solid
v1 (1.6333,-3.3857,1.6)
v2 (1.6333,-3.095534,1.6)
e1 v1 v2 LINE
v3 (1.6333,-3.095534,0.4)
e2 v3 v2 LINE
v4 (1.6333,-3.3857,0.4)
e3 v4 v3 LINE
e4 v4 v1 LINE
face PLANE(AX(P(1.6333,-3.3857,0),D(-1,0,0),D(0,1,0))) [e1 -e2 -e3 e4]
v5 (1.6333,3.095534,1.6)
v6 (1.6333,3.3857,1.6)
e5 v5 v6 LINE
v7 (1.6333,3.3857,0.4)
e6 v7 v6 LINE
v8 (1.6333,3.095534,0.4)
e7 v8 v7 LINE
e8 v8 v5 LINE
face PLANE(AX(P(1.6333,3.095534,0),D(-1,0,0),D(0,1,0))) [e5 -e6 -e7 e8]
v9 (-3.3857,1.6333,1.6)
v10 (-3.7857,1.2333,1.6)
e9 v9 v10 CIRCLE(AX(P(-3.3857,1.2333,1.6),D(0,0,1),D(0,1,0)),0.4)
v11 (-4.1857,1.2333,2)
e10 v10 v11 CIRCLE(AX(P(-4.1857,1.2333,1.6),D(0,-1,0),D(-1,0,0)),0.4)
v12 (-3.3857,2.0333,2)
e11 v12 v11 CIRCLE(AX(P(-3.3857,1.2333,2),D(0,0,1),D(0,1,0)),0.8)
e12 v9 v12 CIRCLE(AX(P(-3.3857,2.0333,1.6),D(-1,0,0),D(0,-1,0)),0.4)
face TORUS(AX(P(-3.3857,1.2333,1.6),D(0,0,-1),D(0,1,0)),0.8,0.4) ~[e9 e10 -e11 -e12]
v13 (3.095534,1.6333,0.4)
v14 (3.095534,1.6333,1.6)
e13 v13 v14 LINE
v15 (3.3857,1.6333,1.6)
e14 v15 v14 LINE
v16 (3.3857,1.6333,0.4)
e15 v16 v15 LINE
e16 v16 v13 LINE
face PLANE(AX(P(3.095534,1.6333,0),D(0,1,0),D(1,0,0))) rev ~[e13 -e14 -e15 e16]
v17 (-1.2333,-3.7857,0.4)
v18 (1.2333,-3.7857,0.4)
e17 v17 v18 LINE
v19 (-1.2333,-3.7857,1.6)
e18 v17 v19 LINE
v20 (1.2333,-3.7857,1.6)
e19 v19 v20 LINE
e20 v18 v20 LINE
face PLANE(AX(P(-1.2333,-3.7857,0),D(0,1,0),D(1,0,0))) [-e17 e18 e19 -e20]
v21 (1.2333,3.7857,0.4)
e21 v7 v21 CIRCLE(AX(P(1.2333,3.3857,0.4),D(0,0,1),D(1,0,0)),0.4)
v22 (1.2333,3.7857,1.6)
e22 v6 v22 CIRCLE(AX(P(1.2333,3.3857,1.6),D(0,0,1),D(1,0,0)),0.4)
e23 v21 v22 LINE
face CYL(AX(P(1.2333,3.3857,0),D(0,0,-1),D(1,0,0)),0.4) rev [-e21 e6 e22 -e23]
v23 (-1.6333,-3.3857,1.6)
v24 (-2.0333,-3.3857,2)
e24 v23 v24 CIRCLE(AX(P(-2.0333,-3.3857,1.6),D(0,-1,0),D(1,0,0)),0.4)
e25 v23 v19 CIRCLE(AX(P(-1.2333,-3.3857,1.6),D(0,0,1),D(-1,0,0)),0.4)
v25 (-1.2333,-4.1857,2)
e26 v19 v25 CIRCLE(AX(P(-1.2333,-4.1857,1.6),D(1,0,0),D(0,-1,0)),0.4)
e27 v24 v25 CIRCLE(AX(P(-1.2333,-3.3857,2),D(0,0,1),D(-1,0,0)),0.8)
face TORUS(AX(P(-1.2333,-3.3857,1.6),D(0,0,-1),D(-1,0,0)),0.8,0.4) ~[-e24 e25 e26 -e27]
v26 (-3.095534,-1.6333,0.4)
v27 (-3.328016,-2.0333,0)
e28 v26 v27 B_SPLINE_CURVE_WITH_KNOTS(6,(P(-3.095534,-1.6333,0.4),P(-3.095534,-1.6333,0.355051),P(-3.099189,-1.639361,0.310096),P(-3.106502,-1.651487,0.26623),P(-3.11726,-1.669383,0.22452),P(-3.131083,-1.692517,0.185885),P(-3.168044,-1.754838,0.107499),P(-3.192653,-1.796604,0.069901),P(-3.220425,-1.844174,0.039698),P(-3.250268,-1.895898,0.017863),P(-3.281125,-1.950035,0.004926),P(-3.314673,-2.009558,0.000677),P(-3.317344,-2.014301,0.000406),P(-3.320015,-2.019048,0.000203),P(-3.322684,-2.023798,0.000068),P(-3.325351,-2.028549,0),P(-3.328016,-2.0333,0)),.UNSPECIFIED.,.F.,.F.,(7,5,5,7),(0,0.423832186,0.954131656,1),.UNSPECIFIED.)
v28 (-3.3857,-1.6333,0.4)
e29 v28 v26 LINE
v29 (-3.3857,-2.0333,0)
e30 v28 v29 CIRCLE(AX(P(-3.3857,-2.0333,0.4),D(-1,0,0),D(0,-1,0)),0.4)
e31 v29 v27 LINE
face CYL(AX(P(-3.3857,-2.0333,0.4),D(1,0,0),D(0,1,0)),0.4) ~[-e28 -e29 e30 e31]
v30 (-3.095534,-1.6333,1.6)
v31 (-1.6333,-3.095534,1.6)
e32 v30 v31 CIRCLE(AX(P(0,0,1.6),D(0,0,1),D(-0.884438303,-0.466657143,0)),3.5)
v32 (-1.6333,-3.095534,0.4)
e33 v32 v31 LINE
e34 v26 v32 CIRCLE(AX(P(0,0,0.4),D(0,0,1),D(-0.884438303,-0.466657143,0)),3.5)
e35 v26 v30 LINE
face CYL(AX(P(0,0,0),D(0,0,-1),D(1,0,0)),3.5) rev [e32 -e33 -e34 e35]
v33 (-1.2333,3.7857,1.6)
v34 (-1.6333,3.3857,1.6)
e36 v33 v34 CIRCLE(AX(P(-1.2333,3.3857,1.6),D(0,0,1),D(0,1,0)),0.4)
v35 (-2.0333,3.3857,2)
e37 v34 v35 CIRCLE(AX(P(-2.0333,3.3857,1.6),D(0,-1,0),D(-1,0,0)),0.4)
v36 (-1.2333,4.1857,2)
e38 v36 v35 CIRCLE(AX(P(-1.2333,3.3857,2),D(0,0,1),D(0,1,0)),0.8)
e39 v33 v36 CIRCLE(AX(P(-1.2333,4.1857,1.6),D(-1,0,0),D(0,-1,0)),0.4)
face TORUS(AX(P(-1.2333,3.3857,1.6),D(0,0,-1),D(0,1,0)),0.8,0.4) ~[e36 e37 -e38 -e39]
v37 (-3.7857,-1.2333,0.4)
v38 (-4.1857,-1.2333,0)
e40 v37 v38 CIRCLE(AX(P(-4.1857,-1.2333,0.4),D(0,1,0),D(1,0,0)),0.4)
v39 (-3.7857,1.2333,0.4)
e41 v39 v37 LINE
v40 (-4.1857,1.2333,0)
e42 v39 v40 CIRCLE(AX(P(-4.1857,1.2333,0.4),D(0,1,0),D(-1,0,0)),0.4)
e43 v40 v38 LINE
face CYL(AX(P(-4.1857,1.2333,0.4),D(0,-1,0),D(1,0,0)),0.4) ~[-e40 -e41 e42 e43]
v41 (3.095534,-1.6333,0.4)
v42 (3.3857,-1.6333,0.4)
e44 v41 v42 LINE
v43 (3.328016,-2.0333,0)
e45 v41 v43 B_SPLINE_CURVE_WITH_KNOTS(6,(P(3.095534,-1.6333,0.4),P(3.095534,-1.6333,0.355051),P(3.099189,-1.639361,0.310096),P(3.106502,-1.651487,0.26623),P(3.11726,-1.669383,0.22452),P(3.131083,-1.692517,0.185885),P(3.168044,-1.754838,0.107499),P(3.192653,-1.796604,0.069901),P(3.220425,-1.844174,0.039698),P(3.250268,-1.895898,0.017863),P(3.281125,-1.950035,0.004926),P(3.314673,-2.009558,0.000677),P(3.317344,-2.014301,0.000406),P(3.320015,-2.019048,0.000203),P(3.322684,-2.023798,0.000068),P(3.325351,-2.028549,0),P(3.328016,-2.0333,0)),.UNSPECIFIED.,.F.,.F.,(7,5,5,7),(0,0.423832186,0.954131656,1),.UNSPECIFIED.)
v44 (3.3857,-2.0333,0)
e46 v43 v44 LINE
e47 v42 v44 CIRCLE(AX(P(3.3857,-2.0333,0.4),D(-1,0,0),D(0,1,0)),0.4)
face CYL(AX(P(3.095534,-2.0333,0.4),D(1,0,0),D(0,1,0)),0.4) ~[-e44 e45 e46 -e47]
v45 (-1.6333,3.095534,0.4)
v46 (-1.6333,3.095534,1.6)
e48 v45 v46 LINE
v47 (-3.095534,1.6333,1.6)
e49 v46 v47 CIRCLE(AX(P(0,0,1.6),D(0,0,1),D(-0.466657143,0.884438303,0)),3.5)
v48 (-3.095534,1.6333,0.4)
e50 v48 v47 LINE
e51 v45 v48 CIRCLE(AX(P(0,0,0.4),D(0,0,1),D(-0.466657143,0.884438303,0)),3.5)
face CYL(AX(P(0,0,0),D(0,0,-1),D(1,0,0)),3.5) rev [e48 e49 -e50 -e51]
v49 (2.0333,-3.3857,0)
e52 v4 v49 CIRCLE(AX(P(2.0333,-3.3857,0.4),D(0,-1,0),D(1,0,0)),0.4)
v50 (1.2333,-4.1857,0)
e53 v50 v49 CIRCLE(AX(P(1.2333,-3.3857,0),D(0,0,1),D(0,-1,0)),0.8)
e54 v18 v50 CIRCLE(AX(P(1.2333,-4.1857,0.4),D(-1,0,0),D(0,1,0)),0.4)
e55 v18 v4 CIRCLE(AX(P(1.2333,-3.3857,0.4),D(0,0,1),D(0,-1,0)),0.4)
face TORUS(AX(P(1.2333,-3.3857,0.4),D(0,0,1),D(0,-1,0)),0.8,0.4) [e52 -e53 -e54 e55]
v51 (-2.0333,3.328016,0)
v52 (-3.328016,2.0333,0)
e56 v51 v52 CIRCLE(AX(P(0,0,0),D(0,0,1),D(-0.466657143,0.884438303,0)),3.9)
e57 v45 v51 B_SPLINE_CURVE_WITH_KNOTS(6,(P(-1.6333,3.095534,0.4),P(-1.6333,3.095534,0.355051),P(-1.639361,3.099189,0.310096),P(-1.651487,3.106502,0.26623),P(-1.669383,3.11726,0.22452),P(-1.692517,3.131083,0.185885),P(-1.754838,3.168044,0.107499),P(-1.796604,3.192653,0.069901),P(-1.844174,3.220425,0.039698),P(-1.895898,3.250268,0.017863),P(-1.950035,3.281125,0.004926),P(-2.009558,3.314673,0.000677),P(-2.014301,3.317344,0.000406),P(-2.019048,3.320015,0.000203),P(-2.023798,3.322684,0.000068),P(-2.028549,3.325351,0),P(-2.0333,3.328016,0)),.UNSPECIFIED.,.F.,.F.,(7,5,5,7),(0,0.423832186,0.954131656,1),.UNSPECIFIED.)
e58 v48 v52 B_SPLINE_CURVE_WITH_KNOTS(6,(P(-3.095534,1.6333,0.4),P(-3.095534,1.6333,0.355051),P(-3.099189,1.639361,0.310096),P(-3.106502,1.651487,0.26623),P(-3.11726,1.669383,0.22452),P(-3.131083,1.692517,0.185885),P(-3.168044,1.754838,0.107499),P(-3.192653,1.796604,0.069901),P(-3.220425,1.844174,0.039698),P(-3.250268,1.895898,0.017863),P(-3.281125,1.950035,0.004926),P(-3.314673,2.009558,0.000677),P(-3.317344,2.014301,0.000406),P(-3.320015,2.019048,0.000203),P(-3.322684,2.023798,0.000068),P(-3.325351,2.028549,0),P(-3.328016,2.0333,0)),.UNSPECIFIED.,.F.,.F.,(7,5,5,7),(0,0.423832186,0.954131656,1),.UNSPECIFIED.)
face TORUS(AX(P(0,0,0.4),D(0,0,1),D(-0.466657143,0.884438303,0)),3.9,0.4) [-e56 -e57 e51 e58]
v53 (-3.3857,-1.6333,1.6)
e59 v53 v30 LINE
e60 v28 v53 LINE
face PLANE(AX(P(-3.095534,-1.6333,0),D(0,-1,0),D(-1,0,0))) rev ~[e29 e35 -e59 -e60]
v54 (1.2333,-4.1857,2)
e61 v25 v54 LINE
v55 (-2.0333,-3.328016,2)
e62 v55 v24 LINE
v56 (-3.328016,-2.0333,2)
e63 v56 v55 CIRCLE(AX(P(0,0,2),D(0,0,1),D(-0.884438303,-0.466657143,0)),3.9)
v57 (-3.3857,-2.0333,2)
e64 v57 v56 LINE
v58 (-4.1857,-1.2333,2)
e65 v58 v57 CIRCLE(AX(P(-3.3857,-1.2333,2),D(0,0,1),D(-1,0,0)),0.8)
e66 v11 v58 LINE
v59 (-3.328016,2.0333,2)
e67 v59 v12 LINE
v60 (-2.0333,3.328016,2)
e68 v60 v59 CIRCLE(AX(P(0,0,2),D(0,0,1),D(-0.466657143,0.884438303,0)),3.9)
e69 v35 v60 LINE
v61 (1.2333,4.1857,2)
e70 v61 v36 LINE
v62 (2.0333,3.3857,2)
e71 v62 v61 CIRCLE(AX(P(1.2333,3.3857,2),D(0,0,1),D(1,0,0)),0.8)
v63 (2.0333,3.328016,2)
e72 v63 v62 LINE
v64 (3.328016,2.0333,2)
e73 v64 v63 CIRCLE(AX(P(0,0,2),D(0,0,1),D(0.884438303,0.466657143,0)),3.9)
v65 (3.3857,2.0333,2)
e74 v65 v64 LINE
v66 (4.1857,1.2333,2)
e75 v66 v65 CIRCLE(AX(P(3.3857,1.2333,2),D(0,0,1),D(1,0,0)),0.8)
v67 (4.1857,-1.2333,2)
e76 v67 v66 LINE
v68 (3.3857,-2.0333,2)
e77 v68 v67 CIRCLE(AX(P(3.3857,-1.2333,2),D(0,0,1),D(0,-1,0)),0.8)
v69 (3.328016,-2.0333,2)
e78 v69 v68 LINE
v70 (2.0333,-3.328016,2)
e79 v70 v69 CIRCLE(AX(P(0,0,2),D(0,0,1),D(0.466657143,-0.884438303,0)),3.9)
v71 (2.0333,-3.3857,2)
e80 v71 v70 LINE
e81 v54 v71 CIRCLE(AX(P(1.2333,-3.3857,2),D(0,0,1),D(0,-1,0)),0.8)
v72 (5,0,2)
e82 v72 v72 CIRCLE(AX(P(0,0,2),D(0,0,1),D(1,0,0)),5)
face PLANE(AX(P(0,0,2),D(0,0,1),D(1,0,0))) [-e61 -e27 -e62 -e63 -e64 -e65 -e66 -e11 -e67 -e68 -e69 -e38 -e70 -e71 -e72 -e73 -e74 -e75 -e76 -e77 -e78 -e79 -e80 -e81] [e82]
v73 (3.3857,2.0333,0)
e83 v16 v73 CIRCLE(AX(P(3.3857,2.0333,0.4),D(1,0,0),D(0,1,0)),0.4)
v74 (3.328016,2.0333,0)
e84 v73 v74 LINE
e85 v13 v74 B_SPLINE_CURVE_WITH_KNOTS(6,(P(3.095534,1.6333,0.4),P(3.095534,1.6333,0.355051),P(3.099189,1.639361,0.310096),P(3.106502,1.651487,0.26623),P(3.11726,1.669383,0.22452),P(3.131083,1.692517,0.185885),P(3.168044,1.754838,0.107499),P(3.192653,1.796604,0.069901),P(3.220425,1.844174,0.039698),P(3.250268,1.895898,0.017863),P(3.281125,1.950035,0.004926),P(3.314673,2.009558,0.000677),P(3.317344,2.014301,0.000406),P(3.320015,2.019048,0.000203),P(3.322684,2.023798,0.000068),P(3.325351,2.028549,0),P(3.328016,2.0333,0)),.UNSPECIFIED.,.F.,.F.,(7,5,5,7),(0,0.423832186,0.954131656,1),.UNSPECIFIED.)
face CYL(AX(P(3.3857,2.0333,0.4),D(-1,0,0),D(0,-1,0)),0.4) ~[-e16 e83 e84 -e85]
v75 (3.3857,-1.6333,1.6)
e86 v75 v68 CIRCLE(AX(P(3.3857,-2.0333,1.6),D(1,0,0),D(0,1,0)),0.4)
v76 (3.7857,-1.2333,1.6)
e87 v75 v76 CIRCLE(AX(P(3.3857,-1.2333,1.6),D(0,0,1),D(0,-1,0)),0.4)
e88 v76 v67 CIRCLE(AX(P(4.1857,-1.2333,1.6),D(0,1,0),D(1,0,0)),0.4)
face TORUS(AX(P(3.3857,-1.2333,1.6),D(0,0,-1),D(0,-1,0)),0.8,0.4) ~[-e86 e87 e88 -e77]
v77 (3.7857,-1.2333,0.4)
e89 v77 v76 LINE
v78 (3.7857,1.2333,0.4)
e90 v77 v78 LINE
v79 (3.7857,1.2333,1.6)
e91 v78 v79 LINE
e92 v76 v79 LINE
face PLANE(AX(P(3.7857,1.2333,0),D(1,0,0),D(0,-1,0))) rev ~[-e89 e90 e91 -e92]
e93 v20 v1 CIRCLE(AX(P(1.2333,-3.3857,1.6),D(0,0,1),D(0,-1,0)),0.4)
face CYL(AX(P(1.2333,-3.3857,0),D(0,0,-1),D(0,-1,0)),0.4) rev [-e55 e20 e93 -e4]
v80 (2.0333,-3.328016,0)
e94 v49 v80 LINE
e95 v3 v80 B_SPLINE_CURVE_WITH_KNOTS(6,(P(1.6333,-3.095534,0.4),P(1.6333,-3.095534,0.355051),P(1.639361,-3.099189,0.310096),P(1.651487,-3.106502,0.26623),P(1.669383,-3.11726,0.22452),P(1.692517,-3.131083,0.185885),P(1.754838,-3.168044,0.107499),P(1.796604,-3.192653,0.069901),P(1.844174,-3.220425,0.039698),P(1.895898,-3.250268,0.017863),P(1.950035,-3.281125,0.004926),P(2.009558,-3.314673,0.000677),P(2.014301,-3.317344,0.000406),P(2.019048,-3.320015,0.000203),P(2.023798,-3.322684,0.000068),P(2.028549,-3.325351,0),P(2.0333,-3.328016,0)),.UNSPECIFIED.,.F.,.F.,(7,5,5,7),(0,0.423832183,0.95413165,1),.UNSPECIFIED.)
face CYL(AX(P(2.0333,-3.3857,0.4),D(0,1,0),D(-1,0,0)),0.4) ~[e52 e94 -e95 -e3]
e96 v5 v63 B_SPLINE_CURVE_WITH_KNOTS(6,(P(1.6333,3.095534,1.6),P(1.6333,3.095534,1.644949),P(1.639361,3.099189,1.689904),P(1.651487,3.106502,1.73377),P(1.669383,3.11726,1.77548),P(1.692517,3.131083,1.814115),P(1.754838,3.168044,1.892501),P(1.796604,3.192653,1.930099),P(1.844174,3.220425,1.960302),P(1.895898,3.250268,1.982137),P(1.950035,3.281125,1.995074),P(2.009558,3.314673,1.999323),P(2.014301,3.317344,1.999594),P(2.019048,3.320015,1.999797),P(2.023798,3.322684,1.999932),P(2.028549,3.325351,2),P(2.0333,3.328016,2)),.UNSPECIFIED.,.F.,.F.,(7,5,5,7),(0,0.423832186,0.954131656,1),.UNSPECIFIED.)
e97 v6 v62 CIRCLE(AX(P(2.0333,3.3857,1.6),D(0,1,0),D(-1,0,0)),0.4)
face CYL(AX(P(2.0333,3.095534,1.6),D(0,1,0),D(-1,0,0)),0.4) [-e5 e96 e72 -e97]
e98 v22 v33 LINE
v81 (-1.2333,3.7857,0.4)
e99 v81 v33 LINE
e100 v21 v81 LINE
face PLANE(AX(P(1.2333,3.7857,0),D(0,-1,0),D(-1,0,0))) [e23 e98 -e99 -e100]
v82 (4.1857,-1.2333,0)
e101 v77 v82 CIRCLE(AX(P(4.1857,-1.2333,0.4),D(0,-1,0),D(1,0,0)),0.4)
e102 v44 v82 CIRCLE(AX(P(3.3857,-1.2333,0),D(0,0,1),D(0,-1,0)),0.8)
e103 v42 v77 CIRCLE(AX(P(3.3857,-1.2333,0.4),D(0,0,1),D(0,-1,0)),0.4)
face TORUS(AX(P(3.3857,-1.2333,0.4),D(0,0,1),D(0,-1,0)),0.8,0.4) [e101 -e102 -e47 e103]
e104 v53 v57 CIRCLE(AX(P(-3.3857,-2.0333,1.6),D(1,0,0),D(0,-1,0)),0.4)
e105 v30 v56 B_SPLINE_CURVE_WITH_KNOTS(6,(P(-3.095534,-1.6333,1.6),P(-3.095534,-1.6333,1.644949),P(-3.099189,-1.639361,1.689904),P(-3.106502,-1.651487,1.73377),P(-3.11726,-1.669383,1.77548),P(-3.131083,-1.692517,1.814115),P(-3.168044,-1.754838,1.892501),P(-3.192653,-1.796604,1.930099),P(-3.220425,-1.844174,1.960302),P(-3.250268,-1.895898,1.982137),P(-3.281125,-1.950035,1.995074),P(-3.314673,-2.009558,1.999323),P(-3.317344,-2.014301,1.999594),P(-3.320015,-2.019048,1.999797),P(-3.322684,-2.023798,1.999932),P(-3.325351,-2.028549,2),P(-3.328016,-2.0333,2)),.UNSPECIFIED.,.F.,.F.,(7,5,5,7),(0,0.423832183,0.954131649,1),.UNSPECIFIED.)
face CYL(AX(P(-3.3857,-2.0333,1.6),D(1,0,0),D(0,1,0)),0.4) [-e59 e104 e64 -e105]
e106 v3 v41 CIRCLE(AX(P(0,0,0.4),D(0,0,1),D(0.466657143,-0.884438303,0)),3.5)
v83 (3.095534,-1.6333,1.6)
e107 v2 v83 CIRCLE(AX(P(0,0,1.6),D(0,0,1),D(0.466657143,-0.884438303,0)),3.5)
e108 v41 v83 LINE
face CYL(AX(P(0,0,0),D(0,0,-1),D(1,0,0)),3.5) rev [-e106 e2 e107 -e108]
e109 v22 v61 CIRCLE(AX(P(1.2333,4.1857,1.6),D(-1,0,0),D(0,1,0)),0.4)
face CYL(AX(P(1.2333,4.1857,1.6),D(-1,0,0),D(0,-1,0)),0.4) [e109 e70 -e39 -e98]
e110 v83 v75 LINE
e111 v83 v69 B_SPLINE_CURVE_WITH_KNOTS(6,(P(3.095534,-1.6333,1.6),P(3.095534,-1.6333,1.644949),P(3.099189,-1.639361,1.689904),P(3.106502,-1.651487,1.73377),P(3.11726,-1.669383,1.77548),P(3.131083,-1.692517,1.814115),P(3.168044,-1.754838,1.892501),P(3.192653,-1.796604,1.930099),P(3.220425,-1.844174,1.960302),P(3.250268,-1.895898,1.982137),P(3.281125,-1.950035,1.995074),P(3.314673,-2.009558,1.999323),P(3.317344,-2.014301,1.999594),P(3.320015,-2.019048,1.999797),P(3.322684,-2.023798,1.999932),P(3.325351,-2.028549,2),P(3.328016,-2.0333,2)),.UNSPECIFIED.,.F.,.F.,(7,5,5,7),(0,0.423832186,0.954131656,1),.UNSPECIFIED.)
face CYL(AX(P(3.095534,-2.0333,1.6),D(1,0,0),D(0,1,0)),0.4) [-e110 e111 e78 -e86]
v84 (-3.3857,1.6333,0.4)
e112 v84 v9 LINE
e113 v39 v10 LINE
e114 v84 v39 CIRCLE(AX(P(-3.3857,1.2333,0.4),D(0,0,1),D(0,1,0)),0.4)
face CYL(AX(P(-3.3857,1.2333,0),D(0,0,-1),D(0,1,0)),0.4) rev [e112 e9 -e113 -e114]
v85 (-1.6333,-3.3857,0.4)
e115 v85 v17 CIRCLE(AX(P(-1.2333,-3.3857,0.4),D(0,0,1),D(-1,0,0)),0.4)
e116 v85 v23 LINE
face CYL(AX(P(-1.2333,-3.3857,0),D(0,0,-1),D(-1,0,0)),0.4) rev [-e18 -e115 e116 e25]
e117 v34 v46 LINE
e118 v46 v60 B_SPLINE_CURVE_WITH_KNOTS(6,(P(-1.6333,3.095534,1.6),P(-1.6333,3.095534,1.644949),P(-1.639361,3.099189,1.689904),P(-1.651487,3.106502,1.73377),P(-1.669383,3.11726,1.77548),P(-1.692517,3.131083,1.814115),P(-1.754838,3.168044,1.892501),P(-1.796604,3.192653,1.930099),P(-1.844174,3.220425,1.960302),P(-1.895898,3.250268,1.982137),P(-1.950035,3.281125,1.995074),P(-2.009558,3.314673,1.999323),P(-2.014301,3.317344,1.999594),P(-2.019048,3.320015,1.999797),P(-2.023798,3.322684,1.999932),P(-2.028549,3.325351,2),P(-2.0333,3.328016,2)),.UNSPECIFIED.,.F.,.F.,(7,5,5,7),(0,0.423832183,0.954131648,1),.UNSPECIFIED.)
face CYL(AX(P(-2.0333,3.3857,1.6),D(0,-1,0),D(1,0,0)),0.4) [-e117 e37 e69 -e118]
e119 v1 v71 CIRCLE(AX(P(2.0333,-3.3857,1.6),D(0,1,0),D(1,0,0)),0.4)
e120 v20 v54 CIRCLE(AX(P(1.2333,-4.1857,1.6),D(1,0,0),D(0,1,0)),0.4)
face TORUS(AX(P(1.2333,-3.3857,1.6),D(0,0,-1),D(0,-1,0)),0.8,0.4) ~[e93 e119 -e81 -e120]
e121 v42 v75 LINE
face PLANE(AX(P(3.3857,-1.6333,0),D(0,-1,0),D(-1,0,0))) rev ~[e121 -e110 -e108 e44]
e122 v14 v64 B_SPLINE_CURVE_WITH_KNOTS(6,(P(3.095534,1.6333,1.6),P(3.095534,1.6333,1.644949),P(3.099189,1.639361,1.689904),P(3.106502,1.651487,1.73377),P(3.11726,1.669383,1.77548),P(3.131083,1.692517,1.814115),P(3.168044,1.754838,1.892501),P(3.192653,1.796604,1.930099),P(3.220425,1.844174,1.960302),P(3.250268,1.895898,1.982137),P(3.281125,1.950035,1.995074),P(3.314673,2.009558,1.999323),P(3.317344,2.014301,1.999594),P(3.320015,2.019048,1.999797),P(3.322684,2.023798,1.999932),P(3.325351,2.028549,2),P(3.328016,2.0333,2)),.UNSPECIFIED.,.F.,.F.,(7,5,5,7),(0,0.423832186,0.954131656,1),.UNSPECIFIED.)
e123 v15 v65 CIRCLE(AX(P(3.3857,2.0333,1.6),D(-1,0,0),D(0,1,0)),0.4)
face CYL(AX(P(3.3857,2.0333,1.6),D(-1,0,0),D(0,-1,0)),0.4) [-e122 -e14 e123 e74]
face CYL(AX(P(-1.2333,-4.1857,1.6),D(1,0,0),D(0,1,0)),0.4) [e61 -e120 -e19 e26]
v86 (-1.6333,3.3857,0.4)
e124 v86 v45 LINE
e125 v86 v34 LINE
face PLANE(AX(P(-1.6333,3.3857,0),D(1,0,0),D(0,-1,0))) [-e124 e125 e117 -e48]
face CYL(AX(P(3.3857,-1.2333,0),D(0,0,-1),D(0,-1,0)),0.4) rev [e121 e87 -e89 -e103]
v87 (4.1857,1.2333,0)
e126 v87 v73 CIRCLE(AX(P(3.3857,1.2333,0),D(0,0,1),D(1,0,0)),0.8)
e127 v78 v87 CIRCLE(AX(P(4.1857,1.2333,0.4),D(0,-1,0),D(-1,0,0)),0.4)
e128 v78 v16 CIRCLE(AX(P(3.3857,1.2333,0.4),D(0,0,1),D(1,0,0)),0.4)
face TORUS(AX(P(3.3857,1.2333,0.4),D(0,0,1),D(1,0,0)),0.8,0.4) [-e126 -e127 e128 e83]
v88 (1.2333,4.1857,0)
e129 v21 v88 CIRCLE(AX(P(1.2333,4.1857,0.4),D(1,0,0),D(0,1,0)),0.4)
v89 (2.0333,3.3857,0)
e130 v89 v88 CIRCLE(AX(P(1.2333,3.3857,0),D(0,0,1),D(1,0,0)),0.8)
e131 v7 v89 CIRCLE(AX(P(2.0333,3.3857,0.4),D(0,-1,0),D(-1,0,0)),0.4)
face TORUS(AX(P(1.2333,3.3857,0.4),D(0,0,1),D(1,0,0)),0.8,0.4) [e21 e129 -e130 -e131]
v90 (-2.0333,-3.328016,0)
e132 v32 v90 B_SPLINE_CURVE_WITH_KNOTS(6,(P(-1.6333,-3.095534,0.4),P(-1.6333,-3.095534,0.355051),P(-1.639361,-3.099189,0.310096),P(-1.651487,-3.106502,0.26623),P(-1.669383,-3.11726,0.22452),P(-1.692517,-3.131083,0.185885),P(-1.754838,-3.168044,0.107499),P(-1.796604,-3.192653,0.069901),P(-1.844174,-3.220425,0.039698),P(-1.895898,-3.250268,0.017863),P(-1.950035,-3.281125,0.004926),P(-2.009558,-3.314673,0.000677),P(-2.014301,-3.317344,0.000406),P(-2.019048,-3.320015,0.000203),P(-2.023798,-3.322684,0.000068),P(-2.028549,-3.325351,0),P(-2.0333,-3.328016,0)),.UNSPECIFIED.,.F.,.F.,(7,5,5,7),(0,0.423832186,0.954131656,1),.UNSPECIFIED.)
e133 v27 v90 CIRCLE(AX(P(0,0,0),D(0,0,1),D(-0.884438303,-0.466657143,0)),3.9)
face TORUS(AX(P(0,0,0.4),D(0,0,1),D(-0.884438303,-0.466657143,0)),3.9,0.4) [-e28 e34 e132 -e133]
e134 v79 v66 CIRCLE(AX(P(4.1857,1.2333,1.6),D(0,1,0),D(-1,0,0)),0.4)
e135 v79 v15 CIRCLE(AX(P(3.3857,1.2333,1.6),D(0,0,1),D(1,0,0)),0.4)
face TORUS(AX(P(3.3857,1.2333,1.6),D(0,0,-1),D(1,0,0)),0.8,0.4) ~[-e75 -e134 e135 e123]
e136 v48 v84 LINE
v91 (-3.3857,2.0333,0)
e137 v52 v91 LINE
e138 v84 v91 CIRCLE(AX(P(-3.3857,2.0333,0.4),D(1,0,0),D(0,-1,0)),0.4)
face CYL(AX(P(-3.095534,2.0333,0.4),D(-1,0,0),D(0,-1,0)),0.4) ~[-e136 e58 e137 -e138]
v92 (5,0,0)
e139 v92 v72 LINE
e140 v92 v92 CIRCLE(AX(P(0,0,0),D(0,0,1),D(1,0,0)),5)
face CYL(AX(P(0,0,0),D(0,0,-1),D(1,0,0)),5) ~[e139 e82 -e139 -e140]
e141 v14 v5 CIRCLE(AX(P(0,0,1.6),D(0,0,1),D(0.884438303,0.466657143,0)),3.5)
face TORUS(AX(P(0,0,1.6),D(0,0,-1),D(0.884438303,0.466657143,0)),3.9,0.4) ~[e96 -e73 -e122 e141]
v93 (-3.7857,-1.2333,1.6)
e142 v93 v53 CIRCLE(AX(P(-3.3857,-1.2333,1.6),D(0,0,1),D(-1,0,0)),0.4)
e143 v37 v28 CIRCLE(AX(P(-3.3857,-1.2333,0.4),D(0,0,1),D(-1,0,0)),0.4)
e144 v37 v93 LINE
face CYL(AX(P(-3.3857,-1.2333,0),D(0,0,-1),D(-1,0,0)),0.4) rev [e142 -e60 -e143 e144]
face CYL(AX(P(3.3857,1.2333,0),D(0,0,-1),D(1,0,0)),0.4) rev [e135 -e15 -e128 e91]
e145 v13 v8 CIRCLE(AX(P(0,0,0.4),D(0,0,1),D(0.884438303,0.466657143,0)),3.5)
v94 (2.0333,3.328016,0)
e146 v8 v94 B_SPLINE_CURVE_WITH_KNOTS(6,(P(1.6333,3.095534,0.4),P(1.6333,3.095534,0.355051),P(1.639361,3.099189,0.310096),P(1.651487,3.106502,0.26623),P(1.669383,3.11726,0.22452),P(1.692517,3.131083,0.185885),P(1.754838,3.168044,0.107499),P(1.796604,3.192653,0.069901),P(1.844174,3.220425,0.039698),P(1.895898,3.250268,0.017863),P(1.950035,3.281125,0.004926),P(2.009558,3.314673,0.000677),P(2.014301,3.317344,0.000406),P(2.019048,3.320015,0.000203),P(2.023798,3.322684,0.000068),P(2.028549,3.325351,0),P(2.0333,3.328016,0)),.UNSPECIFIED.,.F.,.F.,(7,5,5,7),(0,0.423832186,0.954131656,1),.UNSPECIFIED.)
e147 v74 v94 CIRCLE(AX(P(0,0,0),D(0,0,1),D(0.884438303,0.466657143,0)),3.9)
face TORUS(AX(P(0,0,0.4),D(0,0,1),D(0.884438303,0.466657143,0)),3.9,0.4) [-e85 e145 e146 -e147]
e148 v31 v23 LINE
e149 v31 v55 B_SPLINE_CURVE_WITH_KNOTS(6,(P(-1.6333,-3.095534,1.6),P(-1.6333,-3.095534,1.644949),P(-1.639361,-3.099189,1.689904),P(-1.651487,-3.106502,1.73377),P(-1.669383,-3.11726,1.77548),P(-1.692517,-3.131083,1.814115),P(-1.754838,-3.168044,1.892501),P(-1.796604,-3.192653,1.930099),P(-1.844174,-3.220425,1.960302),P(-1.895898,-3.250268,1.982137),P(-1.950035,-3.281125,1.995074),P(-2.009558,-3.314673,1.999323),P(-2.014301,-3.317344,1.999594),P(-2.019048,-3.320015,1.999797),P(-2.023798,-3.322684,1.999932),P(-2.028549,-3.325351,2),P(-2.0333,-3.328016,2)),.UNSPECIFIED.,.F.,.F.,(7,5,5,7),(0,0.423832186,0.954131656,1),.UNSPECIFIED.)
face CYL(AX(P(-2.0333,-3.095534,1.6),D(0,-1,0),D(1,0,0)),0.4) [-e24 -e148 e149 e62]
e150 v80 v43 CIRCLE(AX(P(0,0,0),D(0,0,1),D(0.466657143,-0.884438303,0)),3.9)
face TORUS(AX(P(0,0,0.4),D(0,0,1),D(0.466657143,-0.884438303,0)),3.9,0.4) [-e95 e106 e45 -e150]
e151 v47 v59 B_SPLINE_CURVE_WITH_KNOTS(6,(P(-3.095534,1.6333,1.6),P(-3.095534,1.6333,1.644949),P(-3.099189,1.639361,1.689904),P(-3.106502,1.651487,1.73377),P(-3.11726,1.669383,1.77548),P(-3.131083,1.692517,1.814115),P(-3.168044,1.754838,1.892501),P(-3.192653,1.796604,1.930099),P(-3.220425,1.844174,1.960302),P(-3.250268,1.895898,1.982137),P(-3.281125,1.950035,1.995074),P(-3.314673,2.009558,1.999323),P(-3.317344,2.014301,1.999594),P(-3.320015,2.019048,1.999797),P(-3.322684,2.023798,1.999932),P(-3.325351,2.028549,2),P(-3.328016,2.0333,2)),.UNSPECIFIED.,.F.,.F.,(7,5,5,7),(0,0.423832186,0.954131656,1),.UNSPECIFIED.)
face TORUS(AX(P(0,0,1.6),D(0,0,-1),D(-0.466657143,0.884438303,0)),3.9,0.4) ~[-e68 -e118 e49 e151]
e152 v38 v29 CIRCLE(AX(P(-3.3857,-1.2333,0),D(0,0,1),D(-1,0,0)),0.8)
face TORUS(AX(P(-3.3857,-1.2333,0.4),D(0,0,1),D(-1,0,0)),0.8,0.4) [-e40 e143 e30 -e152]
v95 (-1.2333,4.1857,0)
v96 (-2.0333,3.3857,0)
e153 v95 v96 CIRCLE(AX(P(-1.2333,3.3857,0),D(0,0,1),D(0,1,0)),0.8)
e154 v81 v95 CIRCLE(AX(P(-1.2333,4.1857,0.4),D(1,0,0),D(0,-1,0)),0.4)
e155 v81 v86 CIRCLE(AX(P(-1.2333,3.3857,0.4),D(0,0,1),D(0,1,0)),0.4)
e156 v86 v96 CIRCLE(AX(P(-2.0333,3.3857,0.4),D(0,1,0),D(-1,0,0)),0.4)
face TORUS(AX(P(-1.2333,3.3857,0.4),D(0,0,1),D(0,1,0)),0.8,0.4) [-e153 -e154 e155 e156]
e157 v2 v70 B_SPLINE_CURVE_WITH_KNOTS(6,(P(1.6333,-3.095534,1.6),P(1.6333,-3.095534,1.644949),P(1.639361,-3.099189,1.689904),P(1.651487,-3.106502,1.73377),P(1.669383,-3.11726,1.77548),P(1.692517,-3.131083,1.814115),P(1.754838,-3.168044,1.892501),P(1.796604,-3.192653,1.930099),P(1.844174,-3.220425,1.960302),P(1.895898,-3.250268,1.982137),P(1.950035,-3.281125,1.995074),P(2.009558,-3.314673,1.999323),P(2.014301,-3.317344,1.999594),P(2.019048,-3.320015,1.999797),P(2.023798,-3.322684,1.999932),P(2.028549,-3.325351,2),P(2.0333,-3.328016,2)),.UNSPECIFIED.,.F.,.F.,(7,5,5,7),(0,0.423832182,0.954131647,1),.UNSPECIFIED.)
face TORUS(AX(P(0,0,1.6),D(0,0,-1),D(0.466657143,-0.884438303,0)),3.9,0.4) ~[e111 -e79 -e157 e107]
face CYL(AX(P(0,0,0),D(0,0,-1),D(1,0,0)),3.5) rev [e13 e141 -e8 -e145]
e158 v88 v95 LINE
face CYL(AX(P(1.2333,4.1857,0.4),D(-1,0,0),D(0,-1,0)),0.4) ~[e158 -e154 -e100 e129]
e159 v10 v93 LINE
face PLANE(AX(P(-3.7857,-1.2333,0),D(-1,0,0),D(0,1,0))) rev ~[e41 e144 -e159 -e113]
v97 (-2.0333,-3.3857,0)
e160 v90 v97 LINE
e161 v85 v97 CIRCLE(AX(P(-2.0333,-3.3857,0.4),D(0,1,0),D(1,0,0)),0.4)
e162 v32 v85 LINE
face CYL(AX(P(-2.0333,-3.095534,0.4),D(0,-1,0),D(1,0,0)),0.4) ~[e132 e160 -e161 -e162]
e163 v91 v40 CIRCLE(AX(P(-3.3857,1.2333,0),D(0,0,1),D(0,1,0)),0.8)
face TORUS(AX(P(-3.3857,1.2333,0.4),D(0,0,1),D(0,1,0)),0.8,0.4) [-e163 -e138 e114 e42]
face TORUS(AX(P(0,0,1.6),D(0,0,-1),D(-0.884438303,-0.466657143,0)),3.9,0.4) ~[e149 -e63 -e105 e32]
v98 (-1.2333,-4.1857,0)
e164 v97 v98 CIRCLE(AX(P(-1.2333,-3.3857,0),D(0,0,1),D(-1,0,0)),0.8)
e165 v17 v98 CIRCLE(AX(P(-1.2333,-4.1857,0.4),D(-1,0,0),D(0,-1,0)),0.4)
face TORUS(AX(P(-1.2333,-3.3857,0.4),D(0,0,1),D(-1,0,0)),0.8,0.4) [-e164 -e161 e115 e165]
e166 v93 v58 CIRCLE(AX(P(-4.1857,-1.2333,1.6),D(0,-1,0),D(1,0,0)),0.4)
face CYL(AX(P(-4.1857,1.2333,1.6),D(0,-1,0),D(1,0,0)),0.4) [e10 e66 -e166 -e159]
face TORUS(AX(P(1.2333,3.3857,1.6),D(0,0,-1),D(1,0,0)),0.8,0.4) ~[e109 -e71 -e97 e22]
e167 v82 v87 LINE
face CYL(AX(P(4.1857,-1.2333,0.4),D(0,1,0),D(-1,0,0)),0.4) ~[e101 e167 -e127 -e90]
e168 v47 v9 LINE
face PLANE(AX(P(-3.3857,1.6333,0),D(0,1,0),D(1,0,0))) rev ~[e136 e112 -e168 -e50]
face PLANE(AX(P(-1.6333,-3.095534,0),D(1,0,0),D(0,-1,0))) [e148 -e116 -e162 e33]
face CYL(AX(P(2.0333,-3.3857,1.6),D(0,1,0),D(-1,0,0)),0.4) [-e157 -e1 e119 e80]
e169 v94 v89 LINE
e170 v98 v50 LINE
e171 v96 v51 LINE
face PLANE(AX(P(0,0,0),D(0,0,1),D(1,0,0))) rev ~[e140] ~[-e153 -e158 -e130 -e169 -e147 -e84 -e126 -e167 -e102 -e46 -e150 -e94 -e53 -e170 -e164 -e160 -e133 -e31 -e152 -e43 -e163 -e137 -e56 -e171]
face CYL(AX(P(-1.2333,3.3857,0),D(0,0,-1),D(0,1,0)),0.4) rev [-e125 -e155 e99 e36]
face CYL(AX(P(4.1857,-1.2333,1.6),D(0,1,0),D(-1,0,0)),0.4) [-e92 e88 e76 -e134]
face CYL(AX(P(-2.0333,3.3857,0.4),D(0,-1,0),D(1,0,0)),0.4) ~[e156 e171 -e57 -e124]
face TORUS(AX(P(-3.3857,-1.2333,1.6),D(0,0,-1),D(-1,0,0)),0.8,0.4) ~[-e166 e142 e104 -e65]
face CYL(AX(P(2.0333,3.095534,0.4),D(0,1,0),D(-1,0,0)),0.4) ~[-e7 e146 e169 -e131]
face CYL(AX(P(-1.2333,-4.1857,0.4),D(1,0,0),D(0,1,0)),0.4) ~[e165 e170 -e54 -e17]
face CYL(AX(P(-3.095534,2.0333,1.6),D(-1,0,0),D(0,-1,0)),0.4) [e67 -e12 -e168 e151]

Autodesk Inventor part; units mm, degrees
ref_plane "YZ Plane" through (0, 0, 0) normal (1, 0, 0) x (0, 1, 0)
ref_plane "XZ Plane" through (0, 0, 0) normal (0, 1, 0) x (-1, 0, 0)
ref_plane "XY Plane" through (0, 0, 0) normal (0, 0, 1) x (1, 0, 0)
sketch "Sketch1" plane through (0, 0, 0) normal (0, 0, 1) x (1, 0, 0)
  circle A0 centre (0, 0) radius 3.5
  circle A1 centre (0, 0) radius 5
  line L0 (-1.2333, -3.7857) -> (1.2333, -3.7857)
  line L1 (1.6333, -3.3857) -> (1.6333, 3.3857)
  line L2 (1.2333, 3.7857) -> (-1.2333, 3.7857)
  line L3 (-1.6333, 3.3857) -> (-1.6333, -3.3857)
  line L4 (-1.6333, -3.7857) -> (1.6333, 3.7857) construction
  line L5 (1.6333, -3.7857) -> (-1.6333, 3.7857) construction
  line L6 (-3.3857, 1.6333) -> (3.3857, 1.6333)
  line L7 (3.7857, 1.2333) -> (3.7857, -1.2333)
  line L8 (3.3857, -1.6333) -> (-3.3857, -1.6333)
  line L9 (-3.7857, -1.2333) -> (-3.7857, 1.2333)
  line L10 (-3.7857, 1.6333) -> (3.7857, -1.6333) construction
  line L11 (3.7857, 1.6333) -> (-3.7857, -1.6333) construction
  arc A2 (-1.2333, 3.7857) -> (-1.6333, 3.3857) centre (-1.2333, 3.3857) ccw
  arc A3 (1.6333, 3.3857) -> (1.2333, 3.7857) centre (1.2333, 3.3857) ccw
  arc A4 (1.2333, -3.7857) -> (1.6333, -3.3857) centre (1.2333, -3.3857) ccw
  arc A5 (-1.6333, -3.3857) -> (-1.2333, -3.7857) centre (-1.2333, -3.3857) ccw
  arc A6 (3.7857, 1.2333) -> (3.3857, 1.6333) centre (3.3857, 1.2333) ccw
  arc A7 (3.3857, -1.6333) -> (3.7857, -1.2333) centre (3.3857, -1.2333) ccw
  arc A8 (-3.7857, -1.2333) -> (-3.3857, -1.6333) centre (-3.3857, -1.2333) ccw
  arc A9 (-3.3857, 1.6333) -> (-3.7857, 1.2333) centre (-3.3857, 1.2333) ccw
  point P0 (-1.6333, -3.0955)
  point P1 (-3.0955, -1.6333)
  point P2 (-3.0955, 1.6333)
  point P3 (-1.6333, 3.0955)
  point P4 (1.6333, 3.0955)
  point P5 (3.0955, 1.6333)
  point P6 (3.0955, -1.6333)
  point P7 (1.6333, -3.0955)
  dimension "d0" = 10
  dimension "d1" = 7
  dimension "d2" = 7.5714
  dimension "d3" = 7.5714
  dimension "d4" = 3.2667
  dimension "d5" = 3.2667
  dimension "d6" = 0.4
extrude "Extrusion1" add sketch "Sketch1" along normal blind 2
fillet "Fillet1" radius 0.4 48 edges at (1.5162, 3.6686, 2) (1.6333, 3.2406, 2) (-1.5162, 3.6686, 2) (-1.6333, 3.2406, 2) (0, 3.7857, 2) (-3.6686, 1.5162, 2) (-3.2406, 1.6333, 2) (-3.6686, -1.5162, 2) (-3.2406, -1.6333, 2) (-3.7857, 0, 2) (-1.5162, -3.6686, 2) (-1.6333, -3.2406, 2) (1.5162, -3.6686, 2) (1.6333, -3.2406, 2) (0, -3.7857, 2) (3.6686, -1.5162, 2) (3.2406, -1.6333, 2) (3.6686, 1.5162, 2) (3.2406, 1.6333, 2) (3.7857, 0, 2) (-2.4749, 2.4749, 2) (2.4749, 2.4749, 2) (2.4749, -2.4749, 2) (-2.4749, -2.4749, 2) (-2.4749, 2.4749, 0) (1.5162, 3.6686, 0) (1.6333, 3.2406, 0) (-1.5162, 3.6686, 0) (-1.6333, 3.2406, 0) (0, 3.7857, 0) (2.4749, 2.4749, 0) (2.4749, -2.4749, 0) (3.6686, -1.5162, 0) (3.2406, -1.6333, 0) (3.6686, 1.5162, 0) (3.2406, 1.6333, 0) (3.7857, 0, 0) (-1.5162, -3.6686, 0) (-1.6333, -3.2406, 0) (1.5162, -3.6686, 0) (1.6333, -3.2406, 0) (0, -3.7857, 0) (-2.4749, -2.4749, 0) (-3.6686, 1.5162, 0) (-3.2406, 1.6333, 0) (-3.6686, -1.5162, 0) (-3.2406, -1.6333, 0) (-3.7857, 0, 0)
equation "\"d0\" = D_axel + d_axelRing"
equation "\"d1\" = D_axel"
equation "\"d6\" = r_filletAxel"
equation "\"d7\" = h_distansAxel"
equation "\"d9\" = r_filletDistansAxel"
equation "\"h_distansAxel\" = 2"
equation "\"r_filletDistansAxel\" = 0.4"
equation "\"D_axel\" = 7"
equation "\"d_axelRing\" = 3"
equation "\"r_filletAxel\" = 0.4"
properties part number "Distans_Axel_parametriserad_05 [2020-11-24]"
